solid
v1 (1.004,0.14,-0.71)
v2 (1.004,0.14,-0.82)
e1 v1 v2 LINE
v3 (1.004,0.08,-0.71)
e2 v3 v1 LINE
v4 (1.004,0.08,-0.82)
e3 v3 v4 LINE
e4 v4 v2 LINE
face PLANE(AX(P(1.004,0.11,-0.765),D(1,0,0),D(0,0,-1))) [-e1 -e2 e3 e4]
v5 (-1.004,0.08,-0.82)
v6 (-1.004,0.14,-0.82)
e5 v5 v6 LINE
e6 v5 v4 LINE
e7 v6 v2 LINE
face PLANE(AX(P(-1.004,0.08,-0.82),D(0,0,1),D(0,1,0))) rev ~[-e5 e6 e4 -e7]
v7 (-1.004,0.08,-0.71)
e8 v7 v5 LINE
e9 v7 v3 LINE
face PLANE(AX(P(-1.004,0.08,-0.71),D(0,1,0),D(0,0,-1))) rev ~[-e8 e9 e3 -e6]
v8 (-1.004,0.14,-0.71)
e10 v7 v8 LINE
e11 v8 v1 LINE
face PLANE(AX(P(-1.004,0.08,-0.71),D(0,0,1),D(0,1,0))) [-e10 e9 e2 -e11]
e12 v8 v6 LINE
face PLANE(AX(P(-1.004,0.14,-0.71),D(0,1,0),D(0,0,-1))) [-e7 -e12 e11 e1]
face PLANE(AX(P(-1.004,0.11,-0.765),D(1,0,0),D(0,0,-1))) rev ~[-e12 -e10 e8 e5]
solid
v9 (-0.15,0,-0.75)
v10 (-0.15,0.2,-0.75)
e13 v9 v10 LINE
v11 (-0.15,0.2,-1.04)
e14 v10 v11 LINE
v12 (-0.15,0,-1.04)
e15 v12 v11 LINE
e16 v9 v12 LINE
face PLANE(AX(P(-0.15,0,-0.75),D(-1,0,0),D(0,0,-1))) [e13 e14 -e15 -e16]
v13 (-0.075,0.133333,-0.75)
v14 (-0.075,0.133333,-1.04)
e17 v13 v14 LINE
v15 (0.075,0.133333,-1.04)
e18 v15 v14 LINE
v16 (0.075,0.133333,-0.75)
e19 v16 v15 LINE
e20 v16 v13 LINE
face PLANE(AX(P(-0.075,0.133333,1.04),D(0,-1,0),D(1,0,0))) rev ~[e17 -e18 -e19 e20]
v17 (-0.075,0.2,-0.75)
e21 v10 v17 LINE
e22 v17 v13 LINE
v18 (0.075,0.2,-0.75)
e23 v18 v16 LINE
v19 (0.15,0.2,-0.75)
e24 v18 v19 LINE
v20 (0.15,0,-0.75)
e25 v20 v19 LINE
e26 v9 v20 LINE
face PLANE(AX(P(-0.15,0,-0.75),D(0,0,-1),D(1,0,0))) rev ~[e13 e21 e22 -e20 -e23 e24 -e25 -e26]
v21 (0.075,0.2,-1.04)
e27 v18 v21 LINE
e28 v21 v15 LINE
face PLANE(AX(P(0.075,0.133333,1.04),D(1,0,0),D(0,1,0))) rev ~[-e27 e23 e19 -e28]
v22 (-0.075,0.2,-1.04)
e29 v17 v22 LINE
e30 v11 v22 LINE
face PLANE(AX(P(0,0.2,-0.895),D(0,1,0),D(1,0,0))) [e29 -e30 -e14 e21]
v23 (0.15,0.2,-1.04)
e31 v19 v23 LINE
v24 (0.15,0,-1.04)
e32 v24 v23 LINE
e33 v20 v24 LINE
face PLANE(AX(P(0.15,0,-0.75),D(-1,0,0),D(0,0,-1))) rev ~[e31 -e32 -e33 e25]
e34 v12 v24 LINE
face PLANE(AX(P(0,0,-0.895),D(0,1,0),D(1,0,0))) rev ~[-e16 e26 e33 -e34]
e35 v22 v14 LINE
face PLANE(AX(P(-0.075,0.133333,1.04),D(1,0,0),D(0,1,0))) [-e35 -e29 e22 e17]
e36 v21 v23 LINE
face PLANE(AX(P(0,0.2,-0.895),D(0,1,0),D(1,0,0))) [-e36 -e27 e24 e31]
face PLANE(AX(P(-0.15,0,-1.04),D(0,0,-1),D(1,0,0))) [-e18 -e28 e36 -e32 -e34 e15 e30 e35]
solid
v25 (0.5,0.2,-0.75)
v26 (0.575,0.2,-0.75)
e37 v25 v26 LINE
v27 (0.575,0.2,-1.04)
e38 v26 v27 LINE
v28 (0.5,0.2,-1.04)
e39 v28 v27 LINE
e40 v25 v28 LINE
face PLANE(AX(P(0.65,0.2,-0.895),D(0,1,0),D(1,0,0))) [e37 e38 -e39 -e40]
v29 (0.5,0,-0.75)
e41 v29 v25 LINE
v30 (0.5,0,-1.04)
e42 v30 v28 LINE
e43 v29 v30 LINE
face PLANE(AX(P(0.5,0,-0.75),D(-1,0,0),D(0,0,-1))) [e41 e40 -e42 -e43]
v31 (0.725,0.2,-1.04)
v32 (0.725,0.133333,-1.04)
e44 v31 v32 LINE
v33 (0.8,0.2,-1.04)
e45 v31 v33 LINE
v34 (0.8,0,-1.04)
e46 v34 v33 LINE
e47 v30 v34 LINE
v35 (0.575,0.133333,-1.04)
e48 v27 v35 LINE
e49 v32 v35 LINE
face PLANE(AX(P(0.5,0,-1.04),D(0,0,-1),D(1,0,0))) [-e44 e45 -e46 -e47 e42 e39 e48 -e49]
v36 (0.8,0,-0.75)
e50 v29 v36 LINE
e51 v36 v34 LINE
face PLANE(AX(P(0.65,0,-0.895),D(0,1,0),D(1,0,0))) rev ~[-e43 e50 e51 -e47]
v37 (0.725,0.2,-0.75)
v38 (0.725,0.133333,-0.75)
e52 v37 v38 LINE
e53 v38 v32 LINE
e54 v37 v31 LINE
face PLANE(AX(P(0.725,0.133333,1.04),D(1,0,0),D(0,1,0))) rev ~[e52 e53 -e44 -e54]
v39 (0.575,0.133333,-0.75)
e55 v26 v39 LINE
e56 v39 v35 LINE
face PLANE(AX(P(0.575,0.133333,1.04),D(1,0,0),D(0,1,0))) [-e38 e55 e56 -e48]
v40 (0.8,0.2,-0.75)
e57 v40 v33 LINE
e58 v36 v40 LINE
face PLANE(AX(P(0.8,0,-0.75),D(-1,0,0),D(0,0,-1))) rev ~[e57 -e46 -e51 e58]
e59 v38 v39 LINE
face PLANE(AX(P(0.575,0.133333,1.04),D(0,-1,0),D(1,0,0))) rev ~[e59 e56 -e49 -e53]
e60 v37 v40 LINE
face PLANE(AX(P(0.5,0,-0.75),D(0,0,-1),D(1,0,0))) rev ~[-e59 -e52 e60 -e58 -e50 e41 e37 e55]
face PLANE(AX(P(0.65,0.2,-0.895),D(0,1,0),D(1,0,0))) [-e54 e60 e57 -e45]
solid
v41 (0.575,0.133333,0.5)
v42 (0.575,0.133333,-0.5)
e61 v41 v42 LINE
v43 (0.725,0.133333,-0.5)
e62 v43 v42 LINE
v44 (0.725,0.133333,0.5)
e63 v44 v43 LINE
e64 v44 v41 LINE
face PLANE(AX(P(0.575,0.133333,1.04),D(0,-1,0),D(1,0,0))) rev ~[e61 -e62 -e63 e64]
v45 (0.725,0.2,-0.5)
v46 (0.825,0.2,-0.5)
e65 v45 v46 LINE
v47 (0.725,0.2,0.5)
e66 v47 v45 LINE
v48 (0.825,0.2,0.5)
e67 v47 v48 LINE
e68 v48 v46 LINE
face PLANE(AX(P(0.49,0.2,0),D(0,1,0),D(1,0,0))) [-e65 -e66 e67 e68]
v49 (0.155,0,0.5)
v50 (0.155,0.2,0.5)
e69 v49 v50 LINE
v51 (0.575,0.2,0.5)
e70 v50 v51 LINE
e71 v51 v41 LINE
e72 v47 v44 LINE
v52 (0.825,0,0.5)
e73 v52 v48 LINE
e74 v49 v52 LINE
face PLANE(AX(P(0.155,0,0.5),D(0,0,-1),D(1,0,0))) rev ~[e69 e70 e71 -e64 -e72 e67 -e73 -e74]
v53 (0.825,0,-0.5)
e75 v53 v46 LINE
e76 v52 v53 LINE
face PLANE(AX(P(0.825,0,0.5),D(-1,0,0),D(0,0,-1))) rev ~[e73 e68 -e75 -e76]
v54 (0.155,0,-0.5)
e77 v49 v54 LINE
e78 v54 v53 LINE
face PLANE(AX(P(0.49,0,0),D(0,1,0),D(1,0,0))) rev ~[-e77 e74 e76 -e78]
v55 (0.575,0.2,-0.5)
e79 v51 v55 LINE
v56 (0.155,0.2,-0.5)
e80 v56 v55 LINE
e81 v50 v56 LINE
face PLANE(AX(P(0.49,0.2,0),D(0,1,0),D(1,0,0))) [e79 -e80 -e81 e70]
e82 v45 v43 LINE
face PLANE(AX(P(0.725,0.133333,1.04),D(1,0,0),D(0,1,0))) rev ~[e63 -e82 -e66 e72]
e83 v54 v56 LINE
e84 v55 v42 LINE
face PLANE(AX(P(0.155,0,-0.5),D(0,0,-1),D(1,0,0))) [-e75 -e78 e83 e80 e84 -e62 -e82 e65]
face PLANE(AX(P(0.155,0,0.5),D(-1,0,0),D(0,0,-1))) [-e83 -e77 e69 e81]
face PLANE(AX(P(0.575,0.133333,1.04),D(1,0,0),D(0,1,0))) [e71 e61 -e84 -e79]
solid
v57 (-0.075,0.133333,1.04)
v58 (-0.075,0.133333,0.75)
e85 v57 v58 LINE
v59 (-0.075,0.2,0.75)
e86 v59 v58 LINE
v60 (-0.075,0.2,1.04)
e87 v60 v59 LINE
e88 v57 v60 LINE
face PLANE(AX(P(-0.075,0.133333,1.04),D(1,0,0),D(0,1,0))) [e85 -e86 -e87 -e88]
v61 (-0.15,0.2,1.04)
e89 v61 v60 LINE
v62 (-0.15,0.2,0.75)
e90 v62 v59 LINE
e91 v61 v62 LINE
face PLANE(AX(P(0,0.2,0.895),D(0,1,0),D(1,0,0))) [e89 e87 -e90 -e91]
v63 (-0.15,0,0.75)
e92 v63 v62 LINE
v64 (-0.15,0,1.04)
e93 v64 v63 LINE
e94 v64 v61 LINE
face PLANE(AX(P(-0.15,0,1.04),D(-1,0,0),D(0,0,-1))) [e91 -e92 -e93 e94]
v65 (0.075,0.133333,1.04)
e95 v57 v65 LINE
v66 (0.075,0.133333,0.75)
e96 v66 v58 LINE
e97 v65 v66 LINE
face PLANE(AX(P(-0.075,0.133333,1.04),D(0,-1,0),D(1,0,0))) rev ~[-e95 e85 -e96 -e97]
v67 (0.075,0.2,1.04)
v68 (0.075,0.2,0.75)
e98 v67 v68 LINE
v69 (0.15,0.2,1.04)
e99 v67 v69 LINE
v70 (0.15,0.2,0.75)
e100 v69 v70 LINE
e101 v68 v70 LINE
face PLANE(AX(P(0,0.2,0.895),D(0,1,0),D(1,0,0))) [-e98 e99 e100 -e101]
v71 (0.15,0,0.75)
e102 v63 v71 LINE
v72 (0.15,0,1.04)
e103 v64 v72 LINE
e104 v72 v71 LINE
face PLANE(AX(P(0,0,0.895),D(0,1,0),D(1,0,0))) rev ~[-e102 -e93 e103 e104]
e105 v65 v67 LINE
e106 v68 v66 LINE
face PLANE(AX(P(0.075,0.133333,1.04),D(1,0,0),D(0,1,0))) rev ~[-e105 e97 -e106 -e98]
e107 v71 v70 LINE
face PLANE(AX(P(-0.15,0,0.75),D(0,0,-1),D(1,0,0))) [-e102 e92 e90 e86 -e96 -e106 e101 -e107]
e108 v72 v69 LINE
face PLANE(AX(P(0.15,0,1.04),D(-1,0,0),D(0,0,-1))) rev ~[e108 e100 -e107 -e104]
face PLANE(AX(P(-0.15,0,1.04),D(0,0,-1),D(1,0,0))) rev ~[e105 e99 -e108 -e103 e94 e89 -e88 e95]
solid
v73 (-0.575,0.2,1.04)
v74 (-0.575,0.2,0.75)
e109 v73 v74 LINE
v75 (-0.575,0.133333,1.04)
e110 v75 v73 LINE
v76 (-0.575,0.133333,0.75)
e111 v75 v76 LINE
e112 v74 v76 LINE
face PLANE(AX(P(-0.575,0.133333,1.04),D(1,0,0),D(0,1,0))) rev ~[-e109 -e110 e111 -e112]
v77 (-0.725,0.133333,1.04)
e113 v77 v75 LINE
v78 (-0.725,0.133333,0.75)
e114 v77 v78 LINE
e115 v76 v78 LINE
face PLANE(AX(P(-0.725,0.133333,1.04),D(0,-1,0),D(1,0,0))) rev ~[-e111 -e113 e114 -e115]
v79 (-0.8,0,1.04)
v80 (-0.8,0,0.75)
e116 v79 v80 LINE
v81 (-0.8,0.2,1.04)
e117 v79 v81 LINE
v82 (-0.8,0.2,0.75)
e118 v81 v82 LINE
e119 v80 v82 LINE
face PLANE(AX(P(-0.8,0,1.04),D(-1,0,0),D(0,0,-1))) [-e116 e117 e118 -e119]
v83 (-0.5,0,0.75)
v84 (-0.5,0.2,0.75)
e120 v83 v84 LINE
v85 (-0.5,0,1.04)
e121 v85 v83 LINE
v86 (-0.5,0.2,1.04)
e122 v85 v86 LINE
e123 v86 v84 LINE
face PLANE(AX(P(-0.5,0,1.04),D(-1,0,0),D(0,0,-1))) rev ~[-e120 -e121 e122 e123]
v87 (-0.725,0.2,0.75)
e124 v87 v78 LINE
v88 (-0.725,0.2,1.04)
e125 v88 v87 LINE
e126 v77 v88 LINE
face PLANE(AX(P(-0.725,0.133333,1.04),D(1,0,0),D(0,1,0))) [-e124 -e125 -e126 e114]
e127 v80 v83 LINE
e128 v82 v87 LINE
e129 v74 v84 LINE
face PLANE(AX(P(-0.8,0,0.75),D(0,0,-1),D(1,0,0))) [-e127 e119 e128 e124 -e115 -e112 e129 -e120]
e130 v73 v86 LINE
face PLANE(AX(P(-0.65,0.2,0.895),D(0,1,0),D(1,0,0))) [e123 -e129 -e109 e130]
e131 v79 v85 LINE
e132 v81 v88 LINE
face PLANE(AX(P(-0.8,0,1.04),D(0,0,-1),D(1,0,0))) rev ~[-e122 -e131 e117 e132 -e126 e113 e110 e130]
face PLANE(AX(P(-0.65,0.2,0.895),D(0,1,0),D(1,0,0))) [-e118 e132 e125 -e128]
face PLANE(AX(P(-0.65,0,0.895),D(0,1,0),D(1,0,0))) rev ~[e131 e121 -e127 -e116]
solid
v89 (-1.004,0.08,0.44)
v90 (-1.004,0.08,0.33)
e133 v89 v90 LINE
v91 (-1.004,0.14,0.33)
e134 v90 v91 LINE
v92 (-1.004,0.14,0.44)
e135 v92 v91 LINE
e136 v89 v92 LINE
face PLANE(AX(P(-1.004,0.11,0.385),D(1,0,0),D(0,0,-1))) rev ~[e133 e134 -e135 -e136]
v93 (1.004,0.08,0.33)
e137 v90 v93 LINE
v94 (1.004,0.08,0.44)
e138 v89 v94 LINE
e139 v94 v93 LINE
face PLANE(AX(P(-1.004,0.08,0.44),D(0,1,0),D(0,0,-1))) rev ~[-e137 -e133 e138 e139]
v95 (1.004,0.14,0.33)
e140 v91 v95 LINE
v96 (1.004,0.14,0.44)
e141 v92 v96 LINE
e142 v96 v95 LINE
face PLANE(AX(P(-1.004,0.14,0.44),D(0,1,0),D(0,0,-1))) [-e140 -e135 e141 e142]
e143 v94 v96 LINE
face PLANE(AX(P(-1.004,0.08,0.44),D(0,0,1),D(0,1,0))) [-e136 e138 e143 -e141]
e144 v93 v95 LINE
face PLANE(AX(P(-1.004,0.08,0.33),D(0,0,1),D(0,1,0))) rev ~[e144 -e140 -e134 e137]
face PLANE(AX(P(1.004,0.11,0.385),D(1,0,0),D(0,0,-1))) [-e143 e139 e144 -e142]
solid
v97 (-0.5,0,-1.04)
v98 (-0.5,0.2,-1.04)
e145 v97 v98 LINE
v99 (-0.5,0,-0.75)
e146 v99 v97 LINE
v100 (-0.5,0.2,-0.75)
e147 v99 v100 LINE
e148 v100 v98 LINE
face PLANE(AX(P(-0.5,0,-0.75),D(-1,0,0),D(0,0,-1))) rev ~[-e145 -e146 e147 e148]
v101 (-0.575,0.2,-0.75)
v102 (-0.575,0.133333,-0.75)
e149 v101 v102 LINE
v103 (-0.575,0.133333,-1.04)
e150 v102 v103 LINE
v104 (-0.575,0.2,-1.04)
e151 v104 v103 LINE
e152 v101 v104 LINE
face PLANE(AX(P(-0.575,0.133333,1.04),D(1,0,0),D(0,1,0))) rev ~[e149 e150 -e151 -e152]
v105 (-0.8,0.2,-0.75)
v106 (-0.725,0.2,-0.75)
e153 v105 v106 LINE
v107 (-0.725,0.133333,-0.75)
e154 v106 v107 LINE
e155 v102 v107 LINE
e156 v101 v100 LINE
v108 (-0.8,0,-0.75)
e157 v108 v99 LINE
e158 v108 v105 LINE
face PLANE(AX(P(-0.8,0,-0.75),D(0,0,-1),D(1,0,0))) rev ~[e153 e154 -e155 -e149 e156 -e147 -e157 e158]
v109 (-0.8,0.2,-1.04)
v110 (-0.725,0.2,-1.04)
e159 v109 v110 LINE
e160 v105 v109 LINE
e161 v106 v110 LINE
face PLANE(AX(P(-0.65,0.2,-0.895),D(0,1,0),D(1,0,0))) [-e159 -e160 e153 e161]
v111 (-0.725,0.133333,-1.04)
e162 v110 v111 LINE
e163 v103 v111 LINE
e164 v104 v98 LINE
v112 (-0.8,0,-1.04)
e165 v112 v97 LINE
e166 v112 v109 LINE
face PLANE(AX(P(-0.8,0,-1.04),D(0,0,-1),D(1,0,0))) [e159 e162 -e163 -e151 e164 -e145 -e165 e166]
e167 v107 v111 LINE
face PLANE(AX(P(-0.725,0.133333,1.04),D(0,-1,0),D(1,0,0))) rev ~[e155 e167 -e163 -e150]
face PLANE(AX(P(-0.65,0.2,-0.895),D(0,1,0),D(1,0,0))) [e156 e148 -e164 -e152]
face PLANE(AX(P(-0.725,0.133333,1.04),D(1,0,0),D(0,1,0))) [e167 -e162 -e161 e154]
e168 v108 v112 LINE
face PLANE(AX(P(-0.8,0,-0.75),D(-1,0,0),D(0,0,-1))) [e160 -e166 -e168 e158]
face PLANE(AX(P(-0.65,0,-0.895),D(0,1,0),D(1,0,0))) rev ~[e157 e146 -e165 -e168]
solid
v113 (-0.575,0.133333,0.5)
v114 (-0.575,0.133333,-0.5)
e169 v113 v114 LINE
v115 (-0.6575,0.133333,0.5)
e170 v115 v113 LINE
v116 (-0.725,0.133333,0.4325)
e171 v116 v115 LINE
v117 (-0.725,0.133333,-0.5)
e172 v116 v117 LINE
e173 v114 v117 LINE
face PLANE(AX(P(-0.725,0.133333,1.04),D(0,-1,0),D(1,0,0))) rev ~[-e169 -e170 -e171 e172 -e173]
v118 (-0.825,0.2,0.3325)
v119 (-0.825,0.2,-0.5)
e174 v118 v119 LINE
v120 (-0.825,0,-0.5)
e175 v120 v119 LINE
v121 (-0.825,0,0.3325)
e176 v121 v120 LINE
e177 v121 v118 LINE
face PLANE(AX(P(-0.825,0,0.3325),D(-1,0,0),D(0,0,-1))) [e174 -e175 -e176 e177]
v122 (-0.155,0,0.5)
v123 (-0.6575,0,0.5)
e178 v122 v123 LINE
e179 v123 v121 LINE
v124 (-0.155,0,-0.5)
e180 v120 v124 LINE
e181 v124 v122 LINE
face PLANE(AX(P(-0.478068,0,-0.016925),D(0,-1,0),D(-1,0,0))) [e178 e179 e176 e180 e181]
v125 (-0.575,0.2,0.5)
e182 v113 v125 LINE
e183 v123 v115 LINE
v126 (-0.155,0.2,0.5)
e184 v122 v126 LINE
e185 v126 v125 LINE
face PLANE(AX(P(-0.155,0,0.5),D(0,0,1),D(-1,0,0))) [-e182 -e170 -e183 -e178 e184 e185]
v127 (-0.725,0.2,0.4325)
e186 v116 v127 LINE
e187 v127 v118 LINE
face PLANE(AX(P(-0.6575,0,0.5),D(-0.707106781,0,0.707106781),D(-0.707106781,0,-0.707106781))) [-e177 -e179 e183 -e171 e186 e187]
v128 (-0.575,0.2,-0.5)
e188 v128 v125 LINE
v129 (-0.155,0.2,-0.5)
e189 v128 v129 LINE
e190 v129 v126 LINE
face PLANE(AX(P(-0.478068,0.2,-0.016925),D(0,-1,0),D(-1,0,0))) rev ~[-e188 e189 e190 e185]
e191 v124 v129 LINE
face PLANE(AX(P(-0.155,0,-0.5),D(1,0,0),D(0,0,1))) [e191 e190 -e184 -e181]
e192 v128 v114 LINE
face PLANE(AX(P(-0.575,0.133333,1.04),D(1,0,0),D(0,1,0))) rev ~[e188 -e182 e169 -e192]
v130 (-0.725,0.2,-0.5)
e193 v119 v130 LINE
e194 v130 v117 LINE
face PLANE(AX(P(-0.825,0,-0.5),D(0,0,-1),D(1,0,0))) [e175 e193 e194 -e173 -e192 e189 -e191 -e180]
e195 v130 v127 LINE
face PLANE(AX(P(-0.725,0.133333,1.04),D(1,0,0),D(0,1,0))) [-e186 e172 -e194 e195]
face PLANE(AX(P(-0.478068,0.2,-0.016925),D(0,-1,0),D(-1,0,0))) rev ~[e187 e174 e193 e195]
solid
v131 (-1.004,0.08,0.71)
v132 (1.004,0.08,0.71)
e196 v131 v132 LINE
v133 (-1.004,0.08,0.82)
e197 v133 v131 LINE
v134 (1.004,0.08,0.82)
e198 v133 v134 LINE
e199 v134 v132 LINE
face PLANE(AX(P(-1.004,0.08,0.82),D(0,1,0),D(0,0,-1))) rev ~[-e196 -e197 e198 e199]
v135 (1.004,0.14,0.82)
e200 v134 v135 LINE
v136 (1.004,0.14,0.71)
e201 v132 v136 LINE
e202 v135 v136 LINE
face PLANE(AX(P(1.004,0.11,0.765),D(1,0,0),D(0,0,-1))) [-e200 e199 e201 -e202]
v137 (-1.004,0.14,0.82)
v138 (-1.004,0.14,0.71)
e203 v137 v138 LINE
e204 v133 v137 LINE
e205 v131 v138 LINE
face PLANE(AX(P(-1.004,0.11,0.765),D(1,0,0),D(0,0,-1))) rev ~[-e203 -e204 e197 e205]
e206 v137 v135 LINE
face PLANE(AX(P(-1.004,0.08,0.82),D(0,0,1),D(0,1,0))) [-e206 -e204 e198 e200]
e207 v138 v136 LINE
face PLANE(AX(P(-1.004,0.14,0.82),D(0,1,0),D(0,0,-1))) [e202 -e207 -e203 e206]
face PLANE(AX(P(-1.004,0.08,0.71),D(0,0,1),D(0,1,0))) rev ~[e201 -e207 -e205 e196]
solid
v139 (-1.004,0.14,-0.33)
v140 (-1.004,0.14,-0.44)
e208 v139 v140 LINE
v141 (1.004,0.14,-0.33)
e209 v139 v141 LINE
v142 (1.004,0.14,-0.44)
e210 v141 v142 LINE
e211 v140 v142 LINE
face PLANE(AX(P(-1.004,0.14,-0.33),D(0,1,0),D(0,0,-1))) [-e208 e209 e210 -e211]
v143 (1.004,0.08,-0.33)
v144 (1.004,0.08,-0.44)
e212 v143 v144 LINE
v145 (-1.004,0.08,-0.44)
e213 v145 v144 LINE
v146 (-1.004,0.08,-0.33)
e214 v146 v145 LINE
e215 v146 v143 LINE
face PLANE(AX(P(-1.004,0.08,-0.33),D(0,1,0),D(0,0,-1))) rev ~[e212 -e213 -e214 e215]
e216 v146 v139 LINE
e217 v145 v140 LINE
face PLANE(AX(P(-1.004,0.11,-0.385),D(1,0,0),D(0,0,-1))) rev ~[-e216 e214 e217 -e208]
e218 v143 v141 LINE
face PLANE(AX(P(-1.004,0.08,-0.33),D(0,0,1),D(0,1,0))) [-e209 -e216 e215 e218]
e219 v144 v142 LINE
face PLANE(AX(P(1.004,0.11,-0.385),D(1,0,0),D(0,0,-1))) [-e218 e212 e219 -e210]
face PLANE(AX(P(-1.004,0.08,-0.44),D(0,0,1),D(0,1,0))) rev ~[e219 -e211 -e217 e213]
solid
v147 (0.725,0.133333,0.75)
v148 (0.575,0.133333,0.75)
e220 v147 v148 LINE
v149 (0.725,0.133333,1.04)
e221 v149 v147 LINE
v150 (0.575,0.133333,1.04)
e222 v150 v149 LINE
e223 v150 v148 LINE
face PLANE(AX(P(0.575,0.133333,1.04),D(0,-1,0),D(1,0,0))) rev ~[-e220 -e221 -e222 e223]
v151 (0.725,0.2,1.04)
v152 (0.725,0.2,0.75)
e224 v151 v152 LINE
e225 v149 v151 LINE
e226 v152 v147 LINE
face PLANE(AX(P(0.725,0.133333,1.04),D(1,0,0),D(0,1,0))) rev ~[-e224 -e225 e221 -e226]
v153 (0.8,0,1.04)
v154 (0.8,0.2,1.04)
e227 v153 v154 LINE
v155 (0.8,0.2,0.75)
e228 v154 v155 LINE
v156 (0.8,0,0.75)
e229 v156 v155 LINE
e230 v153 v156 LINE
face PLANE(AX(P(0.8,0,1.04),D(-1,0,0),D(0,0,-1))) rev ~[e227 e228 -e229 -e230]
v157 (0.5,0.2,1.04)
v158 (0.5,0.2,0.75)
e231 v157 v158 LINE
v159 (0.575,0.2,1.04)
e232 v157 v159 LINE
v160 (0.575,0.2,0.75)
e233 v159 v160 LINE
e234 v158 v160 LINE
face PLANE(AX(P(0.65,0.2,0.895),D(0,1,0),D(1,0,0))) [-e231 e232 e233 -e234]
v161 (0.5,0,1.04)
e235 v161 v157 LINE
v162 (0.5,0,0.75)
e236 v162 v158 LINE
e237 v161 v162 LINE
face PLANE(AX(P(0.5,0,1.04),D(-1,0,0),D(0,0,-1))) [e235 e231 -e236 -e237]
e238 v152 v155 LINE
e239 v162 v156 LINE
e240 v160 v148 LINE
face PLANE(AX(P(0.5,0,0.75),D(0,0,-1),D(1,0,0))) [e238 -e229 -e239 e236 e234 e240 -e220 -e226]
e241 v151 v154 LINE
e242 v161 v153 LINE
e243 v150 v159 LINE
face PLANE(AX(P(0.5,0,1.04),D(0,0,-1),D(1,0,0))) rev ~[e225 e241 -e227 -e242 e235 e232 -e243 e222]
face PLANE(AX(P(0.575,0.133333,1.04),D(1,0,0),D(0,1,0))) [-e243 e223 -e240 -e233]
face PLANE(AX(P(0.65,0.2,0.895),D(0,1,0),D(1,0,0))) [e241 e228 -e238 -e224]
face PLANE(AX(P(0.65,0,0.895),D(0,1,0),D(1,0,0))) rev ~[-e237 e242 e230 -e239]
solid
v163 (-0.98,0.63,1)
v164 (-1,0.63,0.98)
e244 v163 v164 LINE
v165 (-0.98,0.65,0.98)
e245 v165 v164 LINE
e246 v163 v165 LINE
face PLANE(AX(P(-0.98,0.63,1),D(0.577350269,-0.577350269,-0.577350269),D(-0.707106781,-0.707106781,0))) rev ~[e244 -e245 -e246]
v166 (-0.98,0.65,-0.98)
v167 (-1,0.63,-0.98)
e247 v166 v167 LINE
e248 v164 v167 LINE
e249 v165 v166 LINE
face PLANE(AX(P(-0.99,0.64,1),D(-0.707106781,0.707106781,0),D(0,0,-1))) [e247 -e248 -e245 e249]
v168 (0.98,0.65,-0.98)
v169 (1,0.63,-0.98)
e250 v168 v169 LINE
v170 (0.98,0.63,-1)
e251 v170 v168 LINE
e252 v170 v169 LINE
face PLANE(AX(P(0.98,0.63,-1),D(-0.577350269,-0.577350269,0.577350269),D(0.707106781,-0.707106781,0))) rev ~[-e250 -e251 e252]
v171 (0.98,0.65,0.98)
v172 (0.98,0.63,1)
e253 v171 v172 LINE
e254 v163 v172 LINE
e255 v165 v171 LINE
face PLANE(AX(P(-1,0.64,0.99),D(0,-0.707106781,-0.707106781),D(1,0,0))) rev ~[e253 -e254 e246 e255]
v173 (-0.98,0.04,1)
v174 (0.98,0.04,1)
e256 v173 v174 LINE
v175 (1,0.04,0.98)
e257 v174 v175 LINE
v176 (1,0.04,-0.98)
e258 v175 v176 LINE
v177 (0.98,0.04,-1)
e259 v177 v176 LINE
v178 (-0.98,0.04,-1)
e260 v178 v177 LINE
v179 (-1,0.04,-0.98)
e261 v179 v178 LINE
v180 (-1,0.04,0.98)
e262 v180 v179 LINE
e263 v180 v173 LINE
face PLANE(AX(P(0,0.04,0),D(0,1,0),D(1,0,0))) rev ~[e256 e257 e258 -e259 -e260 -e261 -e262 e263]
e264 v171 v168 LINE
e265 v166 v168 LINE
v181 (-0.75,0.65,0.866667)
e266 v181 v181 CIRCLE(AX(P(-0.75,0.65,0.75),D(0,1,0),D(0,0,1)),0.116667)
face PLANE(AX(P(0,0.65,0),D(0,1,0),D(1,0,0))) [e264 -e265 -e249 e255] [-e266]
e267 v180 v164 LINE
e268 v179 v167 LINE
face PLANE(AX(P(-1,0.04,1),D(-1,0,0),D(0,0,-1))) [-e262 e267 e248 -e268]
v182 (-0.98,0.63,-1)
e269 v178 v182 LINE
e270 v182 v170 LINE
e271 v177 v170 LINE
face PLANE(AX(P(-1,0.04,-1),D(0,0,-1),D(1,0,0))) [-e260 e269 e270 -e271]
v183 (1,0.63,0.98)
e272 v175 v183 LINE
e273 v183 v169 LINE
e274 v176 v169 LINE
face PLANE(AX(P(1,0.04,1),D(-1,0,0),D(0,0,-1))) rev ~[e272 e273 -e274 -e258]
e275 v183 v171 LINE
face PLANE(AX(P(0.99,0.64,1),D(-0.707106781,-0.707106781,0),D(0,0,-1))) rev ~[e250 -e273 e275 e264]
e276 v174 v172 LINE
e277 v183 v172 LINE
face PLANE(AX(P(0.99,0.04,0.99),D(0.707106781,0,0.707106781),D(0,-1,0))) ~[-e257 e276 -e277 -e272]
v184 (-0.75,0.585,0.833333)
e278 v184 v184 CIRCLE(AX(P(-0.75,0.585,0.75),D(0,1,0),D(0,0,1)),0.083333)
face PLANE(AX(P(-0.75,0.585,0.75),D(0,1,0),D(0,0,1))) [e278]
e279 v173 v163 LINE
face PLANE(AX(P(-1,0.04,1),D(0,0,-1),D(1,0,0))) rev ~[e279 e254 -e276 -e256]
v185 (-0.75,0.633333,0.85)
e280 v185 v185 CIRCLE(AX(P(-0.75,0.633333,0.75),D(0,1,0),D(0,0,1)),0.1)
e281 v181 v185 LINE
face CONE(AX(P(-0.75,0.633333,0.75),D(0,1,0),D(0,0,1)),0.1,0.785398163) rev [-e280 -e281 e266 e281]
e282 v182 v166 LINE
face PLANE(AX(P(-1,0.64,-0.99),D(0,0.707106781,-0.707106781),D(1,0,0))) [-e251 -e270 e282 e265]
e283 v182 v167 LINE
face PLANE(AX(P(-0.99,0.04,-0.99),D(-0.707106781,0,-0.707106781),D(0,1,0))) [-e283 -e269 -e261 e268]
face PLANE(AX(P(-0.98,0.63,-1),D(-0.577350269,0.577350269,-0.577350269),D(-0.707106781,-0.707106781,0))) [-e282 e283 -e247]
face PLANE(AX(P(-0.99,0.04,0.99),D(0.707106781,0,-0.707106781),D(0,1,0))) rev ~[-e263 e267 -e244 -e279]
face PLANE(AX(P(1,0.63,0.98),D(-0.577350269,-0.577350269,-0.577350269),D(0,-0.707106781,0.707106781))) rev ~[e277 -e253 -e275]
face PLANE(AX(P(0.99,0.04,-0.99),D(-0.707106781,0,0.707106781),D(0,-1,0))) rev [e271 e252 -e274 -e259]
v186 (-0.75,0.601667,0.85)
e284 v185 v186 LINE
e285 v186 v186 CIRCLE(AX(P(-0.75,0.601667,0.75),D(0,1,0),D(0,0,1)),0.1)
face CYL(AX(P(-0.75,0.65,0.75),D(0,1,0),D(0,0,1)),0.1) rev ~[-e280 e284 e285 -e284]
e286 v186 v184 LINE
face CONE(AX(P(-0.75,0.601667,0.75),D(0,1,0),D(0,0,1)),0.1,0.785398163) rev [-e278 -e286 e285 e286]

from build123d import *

# Parameters (mm, degrees)
BOSS_EXTRUDE1_DEPTH        = 0.2
SKETCH1_W                  = 0.67
SKETCH1_H                  = 1
BOSS_EXTRUDE1_2_DEPTH      = 0.2
SKETCH1_W_2                = 0.3
SKETCH1_H_2                = 0.29
BOSS_EXTRUDE1_3_DEPTH      = 0.2
BOSS_EXTRUDE1_4_DEPTH      = 0.2
BOSS_EXTRUDE1_5_DEPTH      = 0.2
BOSS_EXTRUDE1_6_DEPTH      = 0.2
BOSS_EXTRUDE1_7_DEPTH      = 0.2
BOSS_EXTRUDE1_8_DEPTH      = 0.2
SKETCH2_W                  = 0.15
SKETCH2_H                  = 0.133333334
CUT_EXTRUDE1_DEPTH         = 3.246558479
BOSS_EXTRUDE2_START        = 0.04
SKETCH3_W                  = 2
SKETCH3_H                  = 2
BOSS_EXTRUDE2_DEPTH        = 0.61
BOSS_EXTRUDE3_DEPTH        = 0.004
BOSS_EXTRUDE3_DEPTH_BACK   = 2.004
SKETCH4_W                  = 0.11
SKETCH4_H                  = 0.06
BOSS_EXTRUDE3_2_DEPTH      = 0.004
BOSS_EXTRUDE3_2_DEPTH_BACK = 2.004
BOSS_EXTRUDE3_3_DEPTH      = 0.004
BOSS_EXTRUDE3_3_DEPTH_BACK = 2.004
BOSS_EXTRUDE3_4_DEPTH      = 0.004
BOSS_EXTRUDE3_4_DEPTH_BACK = 2.004
SKETCH5_R                  = 0.1
CUT_EXTRUDE2_DEPTH         = 0.065
CHAMFER1_SIZE              = 0.016666667
CHAMFER2_SIZE              = 0.02


with BuildPart() as part:
    # Sketch1 → Boss-Extrude1 (new body)
    with BuildSketch(Plane(origin=(0, 0, 0), x_dir=(1, 0, 0), z_dir=(0, 1, 0))):
        Polygon((-0.825, 0.5), (-0.155, 0.5), (-0.155, -0.5), (-0.6575, -0.5), (-0.825, -0.3325), align=None)
    extrude(amount=BOSS_EXTRUDE1_DEPTH)


with BuildPart() as body_2:
    # Sketch1 → Boss-Extrude1 2 (new body)
    with BuildSketch(Plane(origin=(0, 0, 0), x_dir=(1, 0, 0), z_dir=(0, 1, 0))):
        with Locations((0.49, 0)):
            Rectangle(SKETCH1_W, SKETCH1_H)
    extrude(amount=BOSS_EXTRUDE1_2_DEPTH)


with BuildPart() as body_3:
    # Sketch1 → Boss-Extrude1 3 (new body)
    with BuildSketch(Plane(origin=(0, 0, 0), x_dir=(1, 0, 0), z_dir=(0, 1, 0))):
        with Locations((0, 0.895)):
            Rectangle(SKETCH1_W_2, SKETCH1_H_2)
    extrude(amount=BOSS_EXTRUDE1_3_DEPTH)


with BuildPart() as body_4:
    # Sketch1 → Boss-Extrude1 4 (new body)
    with BuildSketch(Plane(origin=(0, 0, 0), x_dir=(1, 0, 0), z_dir=(0, 1, 0))):
        with Locations((-0.65, 0.895)):
            Rectangle(SKETCH1_W_2, SKETCH1_H_2)
    extrude(amount=BOSS_EXTRUDE1_4_DEPTH)


with BuildPart() as body_5:
    # Sketch1 → Boss-Extrude1 5 (new body)
    with BuildSketch(Plane(origin=(0, 0, 0), x_dir=(1, 0, 0), z_dir=(0, 1, 0))):
        with Locations((0.65, 0.895)):
            Rectangle(SKETCH1_W_2, SKETCH1_H_2)
    extrude(amount=BOSS_EXTRUDE1_5_DEPTH)


with BuildPart() as body_6:
    # Sketch1 → Boss-Extrude1 6 (new body)
    with BuildSketch(Plane(origin=(0, 0, 0), x_dir=(1, 0, 0), z_dir=(0, 1, 0))):
        with Locations((0, -0.895)):
            Rectangle(SKETCH1_W_2, SKETCH1_H_2)
    extrude(amount=BOSS_EXTRUDE1_6_DEPTH)


with BuildPart() as body_7:
    # Sketch1 → Boss-Extrude1 7 (new body)
    with BuildSketch(Plane(origin=(0, 0, 0), x_dir=(1, 0, 0), z_dir=(0, 1, 0))):
        with Locations((0.65, -0.895)):
            Rectangle(SKETCH1_W_2, SKETCH1_H_2)
    extrude(amount=BOSS_EXTRUDE1_7_DEPTH)


with BuildPart() as body_8:
    # Sketch1 → Boss-Extrude1 8 (new body)
    with BuildSketch(Plane(origin=(0, 0, 0), x_dir=(1, 0, 0), z_dir=(0, 1, 0))):
        with Locations((-0.65, -0.895)):
            Rectangle(SKETCH1_W_2, SKETCH1_H_2)
    extrude(amount=BOSS_EXTRUDE1_8_DEPTH)


with BuildPart() as cut_extrude1_tool:
    # Sketch2 → Cut-Extrude1 (new, through all)
    with BuildSketch(Plane.XY.offset(1.04)):
        with Locations((-0.65, 0.2)):
            Rectangle(SKETCH2_W, SKETCH2_H)
        with Locations((0, 0.2)):
            Rectangle(SKETCH2_W, SKETCH2_H)
        with Locations((0.65, 0.2)):
            Rectangle(SKETCH2_W, SKETCH2_H)
    extrude(amount=-CUT_EXTRUDE1_DEPTH)


with BuildPart() as part_1:
    add(part.part)

    # Cut-Extrude1: cut by cut_extrude1_tool
    add(cut_extrude1_tool.part, mode=Mode.SUBTRACT)


with BuildPart() as body_2_1:
    add(body_2.part)

    # Cut-Extrude1: cut by cut_extrude1_tool
    add(cut_extrude1_tool.part, mode=Mode.SUBTRACT)


with BuildPart() as body_3_1:
    add(body_3.part)

    # Cut-Extrude1: cut by cut_extrude1_tool
    add(cut_extrude1_tool.part, mode=Mode.SUBTRACT)


with BuildPart() as body_4_1:
    add(body_4.part)

    # Cut-Extrude1: cut by cut_extrude1_tool
    add(cut_extrude1_tool.part, mode=Mode.SUBTRACT)


with BuildPart() as body_5_1:
    add(body_5.part)

    # Cut-Extrude1: cut by cut_extrude1_tool
    add(cut_extrude1_tool.part, mode=Mode.SUBTRACT)


with BuildPart() as body_6_1:
    add(body_6.part)

    # Cut-Extrude1: cut by cut_extrude1_tool
    add(cut_extrude1_tool.part, mode=Mode.SUBTRACT)


with BuildPart() as body_7_1:
    add(body_7.part)

    # Cut-Extrude1: cut by cut_extrude1_tool
    add(cut_extrude1_tool.part, mode=Mode.SUBTRACT)


with BuildPart() as body_8_1:
    add(body_8.part)

    # Cut-Extrude1: cut by cut_extrude1_tool
    add(cut_extrude1_tool.part, mode=Mode.SUBTRACT)


with BuildPart() as body_9:
    # Sketch3 → Boss-Extrude2 (new body)
    with BuildSketch(Plane(origin=(0, 0, 0), x_dir=(1, 0, 0), z_dir=(0, 1, 0)).offset(BOSS_EXTRUDE2_START)):
        Rectangle(SKETCH3_W, SKETCH3_H)
    extrude(amount=BOSS_EXTRUDE2_DEPTH)

    # Sketch5 → Cut-Extrude2 (cut)
    with BuildSketch(Plane(origin=(0, 0.65, 0), x_dir=(1, 0, 0), z_dir=(0, 1, 0))):
        with Locations(Location((-0.75, -0.75, 0), (0, 0, 270))):
            Circle(SKETCH5_R)
    extrude(amount=-CUT_EXTRUDE2_DEPTH, mode=Mode.SUBTRACT)

    # Chamfer1
    chamfer1_edges = [body_9.edges().sort_by_distance(p)[0] for p in [
        (-0.75, 0.585, 0.65),
        (-0.75, 0.65, 0.65),
    ]]
    chamfer(chamfer1_edges, length=CHAMFER1_SIZE)

    # Chamfer2
    chamfer2_edges = [body_9.edges().sort_by_distance(p)[0] for p in [
        (-1, 0.65, 0),
        (0, 0.65, 1),
        (1, 0.65, 0),
        (0, 0.65, -1),
        (1, 0.345, 1),
        (-1, 0.345, 1),
        (-1, 0.345, -1),
        (1, 0.345, -1),
    ]]
    chamfer(chamfer2_edges, length=CHAMFER2_SIZE)


with BuildPart() as body_10:
    # Sketch4 → Boss-Extrude3 (new, two sides: drawn at the far end of the back side and taken through both)
    with BuildSketch(Plane(origin=(1, 0, 0), x_dir=(0, 0, -1), z_dir=(1, 0, 0)).offset(-BOSS_EXTRUDE3_DEPTH_BACK)):
        with Locations((-0.765, 0.11)):
            Rectangle(SKETCH4_W, SKETCH4_H)
    extrude(amount=BOSS_EXTRUDE3_DEPTH + BOSS_EXTRUDE3_DEPTH_BACK)


with BuildPart() as body_11:
    # Sketch4 → Boss-Extrude3 2 (new, two sides: drawn at the far end of the back side and taken through both)
    with BuildSketch(Plane(origin=(1, 0, 0), x_dir=(0, 0, -1), z_dir=(1, 0, 0)).offset(-BOSS_EXTRUDE3_2_DEPTH_BACK)):
        with Locations((-0.385, 0.11)):
            Rectangle(SKETCH4_W, SKETCH4_H)
    extrude(amount=BOSS_EXTRUDE3_2_DEPTH + BOSS_EXTRUDE3_2_DEPTH_BACK)


with BuildPart() as body_12:
    # Sketch4 → Boss-Extrude3 3 (new, two sides: drawn at the far end of the back side and taken through both)
    with BuildSketch(Plane(origin=(1, 0, 0), x_dir=(0, 0, -1), z_dir=(1, 0, 0)).offset(-BOSS_EXTRUDE3_3_DEPTH_BACK)):
        with Locations((0.385, 0.11)):
            Rectangle(SKETCH4_W, SKETCH4_H)
    extrude(amount=BOSS_EXTRUDE3_3_DEPTH + BOSS_EXTRUDE3_3_DEPTH_BACK)


with BuildPart() as body_13:
    # Sketch4 → Boss-Extrude3 4 (new, two sides: drawn at the far end of the back side and taken through both)
    with BuildSketch(Plane(origin=(1, 0, 0), x_dir=(0, 0, -1), z_dir=(1, 0, 0)).offset(-BOSS_EXTRUDE3_4_DEPTH_BACK)):
        with Locations((0.765, 0.11)):
            Rectangle(SKETCH4_W, SKETCH4_H)
    extrude(amount=BOSS_EXTRUDE3_4_DEPTH + BOSS_EXTRUDE3_4_DEPTH_BACK)


solid = Compound([part_1.part, body_2_1.part, body_3_1.part, body_4_1.part, body_5_1.part, body_6_1.part, body_7_1.part, body_8_1.part, body_9.part, body_10.part, body_11.part, body_12.part, body_13.part])
